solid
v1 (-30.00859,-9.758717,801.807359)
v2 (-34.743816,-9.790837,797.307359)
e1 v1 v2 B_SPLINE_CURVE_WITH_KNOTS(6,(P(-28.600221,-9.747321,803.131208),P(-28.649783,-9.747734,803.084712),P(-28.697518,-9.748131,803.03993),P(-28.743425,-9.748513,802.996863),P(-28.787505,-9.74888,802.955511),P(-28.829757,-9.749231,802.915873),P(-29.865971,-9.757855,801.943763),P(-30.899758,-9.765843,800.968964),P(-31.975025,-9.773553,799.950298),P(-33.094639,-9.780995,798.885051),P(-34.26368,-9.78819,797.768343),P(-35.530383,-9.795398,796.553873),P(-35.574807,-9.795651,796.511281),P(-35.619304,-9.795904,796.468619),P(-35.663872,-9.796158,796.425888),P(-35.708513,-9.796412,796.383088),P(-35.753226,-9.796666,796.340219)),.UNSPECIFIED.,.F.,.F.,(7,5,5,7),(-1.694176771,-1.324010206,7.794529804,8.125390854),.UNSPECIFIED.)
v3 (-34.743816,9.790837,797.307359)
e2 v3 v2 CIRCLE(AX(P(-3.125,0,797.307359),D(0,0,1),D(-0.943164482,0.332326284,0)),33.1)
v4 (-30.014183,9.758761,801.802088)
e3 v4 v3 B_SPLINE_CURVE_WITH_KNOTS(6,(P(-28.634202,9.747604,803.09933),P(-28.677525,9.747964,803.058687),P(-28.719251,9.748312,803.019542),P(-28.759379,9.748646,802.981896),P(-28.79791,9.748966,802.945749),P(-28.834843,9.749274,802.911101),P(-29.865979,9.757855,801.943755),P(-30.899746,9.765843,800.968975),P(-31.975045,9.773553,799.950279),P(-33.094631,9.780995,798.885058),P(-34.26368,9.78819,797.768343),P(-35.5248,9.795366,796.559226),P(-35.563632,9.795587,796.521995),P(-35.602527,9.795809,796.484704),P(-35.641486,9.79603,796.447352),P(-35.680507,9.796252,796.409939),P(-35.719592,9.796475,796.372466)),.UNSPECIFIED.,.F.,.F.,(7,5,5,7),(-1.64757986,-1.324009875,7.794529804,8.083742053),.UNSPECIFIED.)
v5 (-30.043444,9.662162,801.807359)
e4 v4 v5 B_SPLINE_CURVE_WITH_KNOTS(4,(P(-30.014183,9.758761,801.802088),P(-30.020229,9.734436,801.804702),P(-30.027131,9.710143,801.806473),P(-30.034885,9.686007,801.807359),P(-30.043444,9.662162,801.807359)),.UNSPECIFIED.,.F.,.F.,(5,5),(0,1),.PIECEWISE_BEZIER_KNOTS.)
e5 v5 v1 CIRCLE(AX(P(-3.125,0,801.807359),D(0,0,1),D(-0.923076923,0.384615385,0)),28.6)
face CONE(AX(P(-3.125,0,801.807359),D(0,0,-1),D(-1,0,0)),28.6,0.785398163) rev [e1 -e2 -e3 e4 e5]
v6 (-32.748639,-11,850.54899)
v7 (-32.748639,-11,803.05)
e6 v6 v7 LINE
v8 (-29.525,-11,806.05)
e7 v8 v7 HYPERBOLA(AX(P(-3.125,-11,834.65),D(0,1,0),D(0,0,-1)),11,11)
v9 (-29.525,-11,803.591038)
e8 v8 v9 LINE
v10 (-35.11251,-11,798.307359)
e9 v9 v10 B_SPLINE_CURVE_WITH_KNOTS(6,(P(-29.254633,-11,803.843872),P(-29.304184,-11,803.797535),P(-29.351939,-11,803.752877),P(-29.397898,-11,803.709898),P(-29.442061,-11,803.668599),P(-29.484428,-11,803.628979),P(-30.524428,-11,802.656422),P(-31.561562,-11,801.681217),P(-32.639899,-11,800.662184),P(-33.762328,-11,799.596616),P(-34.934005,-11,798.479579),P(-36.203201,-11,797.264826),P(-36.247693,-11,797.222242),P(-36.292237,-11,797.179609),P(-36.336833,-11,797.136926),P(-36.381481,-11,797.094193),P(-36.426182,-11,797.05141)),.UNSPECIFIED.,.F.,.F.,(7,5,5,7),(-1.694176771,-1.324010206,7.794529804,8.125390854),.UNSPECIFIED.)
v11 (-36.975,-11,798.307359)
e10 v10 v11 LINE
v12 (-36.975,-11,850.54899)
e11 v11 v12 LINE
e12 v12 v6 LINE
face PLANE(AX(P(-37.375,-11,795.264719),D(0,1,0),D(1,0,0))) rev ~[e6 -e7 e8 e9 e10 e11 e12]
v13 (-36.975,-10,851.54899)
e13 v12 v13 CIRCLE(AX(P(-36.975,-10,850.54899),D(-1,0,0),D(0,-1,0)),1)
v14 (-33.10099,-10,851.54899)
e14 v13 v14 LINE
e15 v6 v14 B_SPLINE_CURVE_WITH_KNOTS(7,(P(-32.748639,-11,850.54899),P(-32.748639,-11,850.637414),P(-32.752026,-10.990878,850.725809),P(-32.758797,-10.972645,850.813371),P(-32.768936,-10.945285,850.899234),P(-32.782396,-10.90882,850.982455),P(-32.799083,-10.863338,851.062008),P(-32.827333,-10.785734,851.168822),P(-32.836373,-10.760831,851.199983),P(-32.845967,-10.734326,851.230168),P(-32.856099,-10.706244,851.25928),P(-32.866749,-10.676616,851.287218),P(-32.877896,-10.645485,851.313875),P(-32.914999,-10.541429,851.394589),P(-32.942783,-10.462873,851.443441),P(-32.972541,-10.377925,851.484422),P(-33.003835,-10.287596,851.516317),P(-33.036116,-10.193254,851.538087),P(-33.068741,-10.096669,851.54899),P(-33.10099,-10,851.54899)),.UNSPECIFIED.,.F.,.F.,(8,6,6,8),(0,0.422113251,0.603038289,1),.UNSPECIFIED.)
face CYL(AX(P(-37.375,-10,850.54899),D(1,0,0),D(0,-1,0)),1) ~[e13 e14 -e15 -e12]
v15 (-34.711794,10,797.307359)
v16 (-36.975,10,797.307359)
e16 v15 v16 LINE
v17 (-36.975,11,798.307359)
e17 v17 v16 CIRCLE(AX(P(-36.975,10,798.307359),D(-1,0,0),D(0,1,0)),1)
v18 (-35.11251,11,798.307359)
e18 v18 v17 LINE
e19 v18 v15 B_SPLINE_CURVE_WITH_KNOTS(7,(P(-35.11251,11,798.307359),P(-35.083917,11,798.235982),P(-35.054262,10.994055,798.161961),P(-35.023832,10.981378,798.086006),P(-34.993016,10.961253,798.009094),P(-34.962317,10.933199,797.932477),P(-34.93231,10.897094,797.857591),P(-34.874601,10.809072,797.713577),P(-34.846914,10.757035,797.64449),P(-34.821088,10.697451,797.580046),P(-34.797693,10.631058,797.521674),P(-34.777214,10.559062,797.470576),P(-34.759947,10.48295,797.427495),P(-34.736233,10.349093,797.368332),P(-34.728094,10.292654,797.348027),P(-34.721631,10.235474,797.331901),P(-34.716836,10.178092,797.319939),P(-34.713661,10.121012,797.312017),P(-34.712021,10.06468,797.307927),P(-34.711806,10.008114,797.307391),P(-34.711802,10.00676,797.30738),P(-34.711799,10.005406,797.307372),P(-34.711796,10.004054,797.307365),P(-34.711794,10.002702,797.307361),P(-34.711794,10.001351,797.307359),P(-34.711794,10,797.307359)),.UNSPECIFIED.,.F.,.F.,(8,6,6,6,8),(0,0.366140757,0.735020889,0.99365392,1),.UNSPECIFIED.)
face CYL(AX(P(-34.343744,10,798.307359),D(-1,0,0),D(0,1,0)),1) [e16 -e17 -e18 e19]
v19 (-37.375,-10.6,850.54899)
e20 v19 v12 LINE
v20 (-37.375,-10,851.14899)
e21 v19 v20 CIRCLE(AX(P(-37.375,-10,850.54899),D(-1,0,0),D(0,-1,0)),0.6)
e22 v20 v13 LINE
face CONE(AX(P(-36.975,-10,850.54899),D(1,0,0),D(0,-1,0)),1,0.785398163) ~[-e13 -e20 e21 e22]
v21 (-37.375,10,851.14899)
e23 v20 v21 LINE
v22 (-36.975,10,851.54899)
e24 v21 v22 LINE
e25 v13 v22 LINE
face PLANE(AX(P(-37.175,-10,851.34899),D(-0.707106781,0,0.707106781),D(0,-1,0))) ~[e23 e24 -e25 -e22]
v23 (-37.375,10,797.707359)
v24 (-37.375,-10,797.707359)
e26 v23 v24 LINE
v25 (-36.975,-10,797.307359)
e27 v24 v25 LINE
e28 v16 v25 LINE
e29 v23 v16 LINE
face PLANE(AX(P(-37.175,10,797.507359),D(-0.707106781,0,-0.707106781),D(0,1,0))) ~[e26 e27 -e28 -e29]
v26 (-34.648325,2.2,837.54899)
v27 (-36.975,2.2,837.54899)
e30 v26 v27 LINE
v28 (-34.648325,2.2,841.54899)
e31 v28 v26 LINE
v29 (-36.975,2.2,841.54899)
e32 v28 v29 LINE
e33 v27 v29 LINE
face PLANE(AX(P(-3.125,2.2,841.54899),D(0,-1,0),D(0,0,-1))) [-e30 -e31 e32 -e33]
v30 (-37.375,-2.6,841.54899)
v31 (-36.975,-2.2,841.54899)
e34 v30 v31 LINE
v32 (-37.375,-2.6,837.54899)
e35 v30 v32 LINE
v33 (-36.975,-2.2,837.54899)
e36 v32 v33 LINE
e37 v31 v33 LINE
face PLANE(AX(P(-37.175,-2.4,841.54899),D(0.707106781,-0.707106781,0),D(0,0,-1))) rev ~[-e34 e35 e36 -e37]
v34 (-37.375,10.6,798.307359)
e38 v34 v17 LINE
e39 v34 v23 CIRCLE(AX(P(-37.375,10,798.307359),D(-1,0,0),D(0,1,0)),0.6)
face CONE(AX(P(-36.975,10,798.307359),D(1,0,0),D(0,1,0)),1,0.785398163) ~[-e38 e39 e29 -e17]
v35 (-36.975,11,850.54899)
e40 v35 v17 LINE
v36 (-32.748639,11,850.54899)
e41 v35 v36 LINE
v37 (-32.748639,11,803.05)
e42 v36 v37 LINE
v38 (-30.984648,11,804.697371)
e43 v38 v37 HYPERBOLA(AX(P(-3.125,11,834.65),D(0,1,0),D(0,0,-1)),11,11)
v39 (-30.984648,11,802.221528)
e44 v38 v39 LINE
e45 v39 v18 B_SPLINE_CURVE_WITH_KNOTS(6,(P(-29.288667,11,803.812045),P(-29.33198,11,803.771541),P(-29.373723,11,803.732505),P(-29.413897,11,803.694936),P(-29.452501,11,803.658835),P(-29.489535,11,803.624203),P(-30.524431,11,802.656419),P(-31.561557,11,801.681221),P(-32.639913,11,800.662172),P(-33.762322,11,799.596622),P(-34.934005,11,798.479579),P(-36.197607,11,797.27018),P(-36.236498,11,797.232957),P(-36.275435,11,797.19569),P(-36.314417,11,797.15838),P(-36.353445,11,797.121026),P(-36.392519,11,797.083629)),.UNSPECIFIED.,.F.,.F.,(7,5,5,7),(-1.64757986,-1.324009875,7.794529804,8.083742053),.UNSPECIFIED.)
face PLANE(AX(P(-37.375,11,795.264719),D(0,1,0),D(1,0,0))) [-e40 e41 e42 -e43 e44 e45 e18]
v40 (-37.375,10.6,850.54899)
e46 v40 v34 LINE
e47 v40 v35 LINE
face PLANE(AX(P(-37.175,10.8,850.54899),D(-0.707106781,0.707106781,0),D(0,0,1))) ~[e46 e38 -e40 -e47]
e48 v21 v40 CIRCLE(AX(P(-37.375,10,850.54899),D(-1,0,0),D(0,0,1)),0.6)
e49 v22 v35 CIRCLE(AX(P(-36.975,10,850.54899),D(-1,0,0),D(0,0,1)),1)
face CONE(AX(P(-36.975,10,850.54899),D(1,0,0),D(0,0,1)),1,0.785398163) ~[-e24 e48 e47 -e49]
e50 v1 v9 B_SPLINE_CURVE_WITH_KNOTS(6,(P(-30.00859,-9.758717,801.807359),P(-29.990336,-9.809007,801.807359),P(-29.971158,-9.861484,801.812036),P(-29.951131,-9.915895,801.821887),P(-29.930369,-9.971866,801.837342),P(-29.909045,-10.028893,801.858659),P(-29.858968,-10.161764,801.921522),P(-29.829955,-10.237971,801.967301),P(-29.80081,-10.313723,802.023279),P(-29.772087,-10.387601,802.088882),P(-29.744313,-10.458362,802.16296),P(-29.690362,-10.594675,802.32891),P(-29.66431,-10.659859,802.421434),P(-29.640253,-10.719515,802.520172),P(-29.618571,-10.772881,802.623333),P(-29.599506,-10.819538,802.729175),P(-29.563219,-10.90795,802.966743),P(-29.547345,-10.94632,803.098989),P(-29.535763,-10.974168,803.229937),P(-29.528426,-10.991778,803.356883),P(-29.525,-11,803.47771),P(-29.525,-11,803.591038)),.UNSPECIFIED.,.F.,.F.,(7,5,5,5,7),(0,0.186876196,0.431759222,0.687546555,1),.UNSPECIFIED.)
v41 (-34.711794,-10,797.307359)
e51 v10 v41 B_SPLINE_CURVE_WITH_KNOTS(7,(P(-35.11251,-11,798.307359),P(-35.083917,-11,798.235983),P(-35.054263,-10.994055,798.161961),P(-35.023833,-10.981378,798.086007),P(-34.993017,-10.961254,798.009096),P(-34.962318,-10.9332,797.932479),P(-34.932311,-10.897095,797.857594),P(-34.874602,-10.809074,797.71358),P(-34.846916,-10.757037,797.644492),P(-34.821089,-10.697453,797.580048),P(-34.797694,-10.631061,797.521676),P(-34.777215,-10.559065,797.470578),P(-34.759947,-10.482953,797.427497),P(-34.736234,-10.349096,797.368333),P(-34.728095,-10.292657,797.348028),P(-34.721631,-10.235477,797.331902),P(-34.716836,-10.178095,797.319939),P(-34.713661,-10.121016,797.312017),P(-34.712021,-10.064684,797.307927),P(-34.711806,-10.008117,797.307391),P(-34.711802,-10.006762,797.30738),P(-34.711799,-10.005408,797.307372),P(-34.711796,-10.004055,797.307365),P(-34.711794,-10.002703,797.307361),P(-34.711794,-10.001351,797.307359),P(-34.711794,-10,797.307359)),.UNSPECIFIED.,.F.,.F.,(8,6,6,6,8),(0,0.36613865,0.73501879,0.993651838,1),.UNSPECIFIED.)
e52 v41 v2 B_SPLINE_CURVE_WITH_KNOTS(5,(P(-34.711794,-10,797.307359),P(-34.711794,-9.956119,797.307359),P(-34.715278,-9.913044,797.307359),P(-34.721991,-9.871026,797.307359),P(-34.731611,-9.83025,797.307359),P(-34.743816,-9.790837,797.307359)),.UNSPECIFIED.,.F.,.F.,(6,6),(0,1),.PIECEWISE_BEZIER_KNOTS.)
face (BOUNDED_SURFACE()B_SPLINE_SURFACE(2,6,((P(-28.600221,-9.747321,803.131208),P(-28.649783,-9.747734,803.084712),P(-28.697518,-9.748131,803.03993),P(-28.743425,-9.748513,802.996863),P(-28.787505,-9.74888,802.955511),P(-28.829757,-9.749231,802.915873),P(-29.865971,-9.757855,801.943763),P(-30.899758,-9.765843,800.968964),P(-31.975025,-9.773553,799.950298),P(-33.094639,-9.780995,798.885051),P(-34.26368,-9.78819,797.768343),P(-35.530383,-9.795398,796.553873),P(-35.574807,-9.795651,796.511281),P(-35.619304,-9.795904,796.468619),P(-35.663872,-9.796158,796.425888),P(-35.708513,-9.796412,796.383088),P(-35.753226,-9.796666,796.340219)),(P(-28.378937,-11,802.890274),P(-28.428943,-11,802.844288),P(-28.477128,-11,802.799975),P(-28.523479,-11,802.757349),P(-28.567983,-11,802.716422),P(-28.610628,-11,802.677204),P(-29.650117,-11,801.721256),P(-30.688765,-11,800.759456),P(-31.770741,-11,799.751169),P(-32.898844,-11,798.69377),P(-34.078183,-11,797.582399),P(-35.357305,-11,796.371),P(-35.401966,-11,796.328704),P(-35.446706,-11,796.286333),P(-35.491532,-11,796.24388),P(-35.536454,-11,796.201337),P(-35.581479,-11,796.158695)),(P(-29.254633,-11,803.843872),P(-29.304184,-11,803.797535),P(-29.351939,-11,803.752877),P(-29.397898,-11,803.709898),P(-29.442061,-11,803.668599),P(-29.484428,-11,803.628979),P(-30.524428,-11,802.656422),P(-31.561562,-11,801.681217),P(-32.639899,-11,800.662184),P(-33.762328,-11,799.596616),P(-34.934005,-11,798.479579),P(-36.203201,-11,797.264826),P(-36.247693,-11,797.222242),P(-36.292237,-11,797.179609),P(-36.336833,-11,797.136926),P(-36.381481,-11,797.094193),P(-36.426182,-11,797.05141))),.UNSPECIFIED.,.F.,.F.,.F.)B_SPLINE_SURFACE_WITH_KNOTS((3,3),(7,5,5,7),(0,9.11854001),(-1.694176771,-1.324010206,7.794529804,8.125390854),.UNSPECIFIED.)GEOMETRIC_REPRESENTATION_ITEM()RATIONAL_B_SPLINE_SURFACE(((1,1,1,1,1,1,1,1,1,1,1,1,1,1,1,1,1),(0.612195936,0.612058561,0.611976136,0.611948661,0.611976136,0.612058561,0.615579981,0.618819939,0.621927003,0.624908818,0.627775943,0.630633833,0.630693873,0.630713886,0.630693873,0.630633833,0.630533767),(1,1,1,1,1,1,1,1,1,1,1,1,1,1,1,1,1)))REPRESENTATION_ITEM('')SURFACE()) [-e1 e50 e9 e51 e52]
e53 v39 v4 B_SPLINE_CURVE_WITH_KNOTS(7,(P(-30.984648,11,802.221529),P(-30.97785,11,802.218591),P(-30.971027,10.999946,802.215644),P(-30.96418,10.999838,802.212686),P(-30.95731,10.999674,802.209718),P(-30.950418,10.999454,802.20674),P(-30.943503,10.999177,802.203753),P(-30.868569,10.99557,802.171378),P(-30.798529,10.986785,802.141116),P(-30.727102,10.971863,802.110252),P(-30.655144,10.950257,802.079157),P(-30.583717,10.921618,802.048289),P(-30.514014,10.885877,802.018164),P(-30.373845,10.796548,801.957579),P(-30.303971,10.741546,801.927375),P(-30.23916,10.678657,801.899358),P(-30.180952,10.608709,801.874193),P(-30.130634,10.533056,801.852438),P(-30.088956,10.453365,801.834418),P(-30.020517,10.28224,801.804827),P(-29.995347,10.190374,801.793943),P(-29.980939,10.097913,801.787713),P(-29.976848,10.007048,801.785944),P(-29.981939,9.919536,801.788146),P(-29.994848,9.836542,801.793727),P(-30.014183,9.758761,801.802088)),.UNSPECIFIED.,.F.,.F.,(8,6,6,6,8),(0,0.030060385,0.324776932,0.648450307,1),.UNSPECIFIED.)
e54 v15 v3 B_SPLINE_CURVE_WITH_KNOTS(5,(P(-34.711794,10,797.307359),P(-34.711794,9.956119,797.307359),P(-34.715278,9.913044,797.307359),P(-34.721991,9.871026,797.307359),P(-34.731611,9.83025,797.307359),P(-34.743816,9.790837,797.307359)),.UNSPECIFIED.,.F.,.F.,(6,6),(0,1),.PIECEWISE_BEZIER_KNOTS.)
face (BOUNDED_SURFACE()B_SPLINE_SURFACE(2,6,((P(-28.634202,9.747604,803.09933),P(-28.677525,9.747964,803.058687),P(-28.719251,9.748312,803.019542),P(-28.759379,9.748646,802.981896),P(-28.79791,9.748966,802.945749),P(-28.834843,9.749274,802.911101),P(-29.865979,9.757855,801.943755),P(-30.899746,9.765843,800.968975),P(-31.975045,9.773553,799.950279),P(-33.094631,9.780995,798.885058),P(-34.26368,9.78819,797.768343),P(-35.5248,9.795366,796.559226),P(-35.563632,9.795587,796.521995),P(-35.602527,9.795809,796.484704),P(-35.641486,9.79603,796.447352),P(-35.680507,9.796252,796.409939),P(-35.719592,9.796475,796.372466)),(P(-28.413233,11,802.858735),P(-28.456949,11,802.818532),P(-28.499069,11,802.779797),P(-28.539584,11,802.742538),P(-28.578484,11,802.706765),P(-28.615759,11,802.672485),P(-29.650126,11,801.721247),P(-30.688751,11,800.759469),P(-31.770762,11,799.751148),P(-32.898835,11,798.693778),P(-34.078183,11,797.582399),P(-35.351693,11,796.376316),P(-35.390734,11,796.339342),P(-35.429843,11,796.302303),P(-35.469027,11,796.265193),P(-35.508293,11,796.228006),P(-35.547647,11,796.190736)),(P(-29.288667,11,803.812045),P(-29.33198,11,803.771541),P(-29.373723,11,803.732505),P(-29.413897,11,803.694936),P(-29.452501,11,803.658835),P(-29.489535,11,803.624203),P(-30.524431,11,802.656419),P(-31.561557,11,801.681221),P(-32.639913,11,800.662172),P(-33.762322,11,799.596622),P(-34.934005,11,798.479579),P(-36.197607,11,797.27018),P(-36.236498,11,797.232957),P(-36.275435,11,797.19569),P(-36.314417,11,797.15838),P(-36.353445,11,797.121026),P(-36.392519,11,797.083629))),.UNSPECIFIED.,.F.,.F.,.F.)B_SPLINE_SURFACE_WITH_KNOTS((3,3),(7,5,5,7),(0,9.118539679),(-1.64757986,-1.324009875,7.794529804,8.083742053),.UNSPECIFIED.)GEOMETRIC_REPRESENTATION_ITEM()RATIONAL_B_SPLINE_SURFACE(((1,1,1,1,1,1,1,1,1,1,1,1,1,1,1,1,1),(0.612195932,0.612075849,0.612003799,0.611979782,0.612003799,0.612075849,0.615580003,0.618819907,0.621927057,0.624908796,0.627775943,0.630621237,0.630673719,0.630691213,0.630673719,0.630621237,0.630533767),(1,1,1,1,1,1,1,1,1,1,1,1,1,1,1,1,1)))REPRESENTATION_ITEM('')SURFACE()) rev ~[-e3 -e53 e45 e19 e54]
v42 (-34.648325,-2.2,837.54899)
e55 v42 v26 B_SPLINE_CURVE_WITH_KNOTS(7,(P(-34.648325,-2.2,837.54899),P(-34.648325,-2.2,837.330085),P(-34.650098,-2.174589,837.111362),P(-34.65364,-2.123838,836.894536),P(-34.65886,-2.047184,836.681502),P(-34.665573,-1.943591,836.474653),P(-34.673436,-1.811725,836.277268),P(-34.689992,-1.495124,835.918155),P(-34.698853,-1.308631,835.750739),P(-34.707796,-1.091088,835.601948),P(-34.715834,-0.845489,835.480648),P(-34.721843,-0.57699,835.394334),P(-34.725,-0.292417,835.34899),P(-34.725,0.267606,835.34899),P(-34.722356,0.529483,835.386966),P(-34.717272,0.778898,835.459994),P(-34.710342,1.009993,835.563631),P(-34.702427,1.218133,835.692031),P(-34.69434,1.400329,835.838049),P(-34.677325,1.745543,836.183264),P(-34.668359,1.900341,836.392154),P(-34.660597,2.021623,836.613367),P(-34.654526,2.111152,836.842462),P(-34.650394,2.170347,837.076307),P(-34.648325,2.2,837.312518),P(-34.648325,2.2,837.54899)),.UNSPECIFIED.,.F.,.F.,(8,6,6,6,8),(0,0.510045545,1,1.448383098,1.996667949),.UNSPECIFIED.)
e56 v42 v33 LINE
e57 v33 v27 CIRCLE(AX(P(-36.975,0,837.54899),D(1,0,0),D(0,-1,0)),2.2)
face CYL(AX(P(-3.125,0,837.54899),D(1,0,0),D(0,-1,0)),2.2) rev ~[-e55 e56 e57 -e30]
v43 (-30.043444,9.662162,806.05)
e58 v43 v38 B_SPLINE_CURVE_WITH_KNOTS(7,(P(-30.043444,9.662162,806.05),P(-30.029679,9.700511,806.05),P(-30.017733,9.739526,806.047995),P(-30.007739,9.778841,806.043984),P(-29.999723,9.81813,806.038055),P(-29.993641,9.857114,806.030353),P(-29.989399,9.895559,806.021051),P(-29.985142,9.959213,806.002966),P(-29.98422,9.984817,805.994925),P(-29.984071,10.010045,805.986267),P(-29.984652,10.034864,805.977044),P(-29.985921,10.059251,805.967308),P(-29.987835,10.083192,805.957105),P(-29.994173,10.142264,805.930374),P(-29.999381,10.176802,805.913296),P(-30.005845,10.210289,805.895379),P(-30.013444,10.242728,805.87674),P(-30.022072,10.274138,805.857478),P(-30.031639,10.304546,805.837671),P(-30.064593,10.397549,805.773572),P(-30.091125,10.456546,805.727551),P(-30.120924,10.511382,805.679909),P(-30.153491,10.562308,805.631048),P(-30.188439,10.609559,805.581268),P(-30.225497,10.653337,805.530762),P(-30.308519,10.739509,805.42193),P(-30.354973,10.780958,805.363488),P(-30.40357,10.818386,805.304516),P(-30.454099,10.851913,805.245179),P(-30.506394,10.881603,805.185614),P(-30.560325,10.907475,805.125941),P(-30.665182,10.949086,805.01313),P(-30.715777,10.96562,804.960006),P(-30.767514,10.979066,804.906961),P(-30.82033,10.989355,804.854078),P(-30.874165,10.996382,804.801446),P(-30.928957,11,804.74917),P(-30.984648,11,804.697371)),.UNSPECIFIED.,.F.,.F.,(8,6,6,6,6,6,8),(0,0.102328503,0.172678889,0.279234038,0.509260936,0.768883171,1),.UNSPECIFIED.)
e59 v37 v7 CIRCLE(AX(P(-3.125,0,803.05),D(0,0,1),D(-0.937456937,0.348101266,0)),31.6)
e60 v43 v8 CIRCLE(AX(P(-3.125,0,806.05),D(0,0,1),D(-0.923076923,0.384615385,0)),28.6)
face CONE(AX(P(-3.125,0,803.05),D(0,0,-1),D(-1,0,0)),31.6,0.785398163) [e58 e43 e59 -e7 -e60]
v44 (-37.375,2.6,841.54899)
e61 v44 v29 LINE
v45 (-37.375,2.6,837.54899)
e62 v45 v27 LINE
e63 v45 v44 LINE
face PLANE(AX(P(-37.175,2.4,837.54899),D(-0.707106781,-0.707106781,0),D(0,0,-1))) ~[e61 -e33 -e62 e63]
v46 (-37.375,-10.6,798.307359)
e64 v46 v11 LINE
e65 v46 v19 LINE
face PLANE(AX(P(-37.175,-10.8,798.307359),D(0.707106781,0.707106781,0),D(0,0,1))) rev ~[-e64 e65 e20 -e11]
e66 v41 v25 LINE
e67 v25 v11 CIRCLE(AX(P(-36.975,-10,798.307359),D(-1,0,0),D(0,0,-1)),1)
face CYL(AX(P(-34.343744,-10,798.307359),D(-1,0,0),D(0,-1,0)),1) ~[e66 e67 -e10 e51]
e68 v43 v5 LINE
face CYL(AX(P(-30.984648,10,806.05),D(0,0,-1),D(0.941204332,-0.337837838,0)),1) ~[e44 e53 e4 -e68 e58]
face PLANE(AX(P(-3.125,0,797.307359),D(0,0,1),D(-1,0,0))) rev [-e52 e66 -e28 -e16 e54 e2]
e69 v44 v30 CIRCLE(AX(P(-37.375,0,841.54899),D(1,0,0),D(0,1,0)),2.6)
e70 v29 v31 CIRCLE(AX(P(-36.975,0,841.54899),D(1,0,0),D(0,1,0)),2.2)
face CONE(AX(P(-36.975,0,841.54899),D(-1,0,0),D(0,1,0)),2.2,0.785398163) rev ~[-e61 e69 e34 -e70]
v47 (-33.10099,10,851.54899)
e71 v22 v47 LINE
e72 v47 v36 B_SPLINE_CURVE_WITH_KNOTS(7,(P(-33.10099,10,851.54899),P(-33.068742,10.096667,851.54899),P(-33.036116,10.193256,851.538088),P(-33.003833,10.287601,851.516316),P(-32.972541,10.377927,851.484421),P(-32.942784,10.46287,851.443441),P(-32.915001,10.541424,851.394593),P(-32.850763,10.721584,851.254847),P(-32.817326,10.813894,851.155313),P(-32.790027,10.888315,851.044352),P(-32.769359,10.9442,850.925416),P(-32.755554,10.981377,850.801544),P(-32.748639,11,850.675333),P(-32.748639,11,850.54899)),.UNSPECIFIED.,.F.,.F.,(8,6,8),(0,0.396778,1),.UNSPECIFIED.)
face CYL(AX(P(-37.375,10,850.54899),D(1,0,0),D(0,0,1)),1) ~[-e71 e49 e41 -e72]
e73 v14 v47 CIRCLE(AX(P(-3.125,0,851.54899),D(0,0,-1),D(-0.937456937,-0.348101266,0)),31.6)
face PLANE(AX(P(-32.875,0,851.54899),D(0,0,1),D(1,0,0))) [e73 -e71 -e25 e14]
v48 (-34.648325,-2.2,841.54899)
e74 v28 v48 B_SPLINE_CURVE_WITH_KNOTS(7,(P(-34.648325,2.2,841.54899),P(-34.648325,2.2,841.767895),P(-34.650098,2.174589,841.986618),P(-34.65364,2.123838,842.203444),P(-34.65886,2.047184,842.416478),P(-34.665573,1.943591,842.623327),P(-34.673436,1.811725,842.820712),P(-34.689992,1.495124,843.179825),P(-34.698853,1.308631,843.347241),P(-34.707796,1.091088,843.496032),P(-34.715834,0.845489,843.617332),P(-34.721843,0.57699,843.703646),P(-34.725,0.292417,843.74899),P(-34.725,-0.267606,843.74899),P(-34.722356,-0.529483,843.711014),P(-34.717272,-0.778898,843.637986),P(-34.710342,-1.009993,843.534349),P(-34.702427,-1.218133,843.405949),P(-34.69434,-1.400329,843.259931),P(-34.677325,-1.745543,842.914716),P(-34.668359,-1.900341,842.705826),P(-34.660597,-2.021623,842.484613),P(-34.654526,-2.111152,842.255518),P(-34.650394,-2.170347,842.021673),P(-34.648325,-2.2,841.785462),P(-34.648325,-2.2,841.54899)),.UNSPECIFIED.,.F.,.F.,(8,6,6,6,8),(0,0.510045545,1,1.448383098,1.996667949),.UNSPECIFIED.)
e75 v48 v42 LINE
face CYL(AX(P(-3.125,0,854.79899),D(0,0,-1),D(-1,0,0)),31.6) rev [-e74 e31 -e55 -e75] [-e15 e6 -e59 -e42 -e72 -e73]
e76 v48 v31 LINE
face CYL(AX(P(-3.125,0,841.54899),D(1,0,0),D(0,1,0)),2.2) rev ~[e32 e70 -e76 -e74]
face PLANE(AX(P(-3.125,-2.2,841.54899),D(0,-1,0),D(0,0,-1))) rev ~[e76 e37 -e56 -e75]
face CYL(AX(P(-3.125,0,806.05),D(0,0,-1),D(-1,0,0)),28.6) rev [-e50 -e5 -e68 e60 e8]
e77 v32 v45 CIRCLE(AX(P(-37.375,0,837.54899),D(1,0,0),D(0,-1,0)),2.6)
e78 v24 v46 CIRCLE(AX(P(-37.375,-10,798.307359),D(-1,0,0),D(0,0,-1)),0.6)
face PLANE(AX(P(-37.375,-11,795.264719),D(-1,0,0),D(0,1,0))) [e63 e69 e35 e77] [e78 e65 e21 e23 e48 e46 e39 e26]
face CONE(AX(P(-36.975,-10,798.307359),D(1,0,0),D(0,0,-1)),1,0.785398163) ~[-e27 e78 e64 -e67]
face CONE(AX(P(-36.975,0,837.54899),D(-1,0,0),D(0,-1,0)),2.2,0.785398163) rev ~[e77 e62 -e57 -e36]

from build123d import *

# Parameters (mm, degrees)
BOX_W           = 9
BOX_H           = 22
BOX_DEPTH       = 56.284271
POCKET077_DEPTH = 34.251
FILLET010_R     = 1
CHAMFER001_SIZE = 0.4


with BuildPart() as part:
    # Box → Box (join)
    with BuildSketch(Plane(origin=(-34.25, -11, -59.534271), x_dir=(1, 0, 0), z_dir=(0, 0, 1))):
        with Locations((4.5, 11)):
            Rectangle(BOX_W, BOX_H)
    extrude(amount=BOX_DEPTH)

    # Sketch136 → Pocket077 (cut, through all)
    with BuildSketch(Plane.YZ):
        with BuildLine():
            ThreePointArc((2.2, -13.25), (0, -11.05), (-2.2, -13.25))
            Line((-2.2, -13.25), (-2.2, -17.25))
            ThreePointArc((-2.2, -17.25), (0, -19.45), (2.2, -17.25))
            Line((2.2, -13.25), (2.2, -17.25))
        make_face()
    extrude(amount=-POCKET077_DEPTH, mode=Mode.SUBTRACT)

    # Sketch228 → Groove003 (revolve, cut)
    with BuildSketch(Plane.XZ):
        Polygon((-31.6, 0), (-31.6, -51.74899), (-28.6, -48.74899), (-28.6, -52.991631), (-33.1, -57.491631), (-36.1, -57.491631), (-36.1, -60.74899), (-19.6, -60.74899), (-19.6, 0), align=None)
    revolve(axis=Axis((0, 0, 0), (0, 0, 1)), mode=Mode.SUBTRACT)

    # Fillet010
    fillet010_edges = [part.edges().sort_by_distance(p)[0] for p in [
        (-32.734372, -11, -57.491631),
        (-28.815375, -11, -55.235201),
        (-32.734372, 11, -57.491631),
        (-28.815375, 11, -55.235201),
        (-26.4, 11, -50.87031),
        (-31.93682, 11, -3.25),
        (-31.93682, -11, -3.25),
    ]]
    fillet(fillet010_edges, radius=FILLET010_R)

    # Chamfer001
    chamfer001_edges = [part.edges().sort_by_distance(p)[0] for p in [
        (-34.25, 0, -57.491631),
        (-34.25, 10.707107, -57.198737),
        (-34.25, 11, -30.370815),
        (-34.25, 10.707107, -3.542893),
        (-34.25, 0, -3.25),
        (-34.25, -10.707107, -3.542893),
        (-34.25, -11, -30.370815),
        (-34.25, -10.707107, -57.198737),
        (-34.25, 0, -19.45),
        (-34.25, 2.2, -15.25),
        (-34.25, 0, -11.05),
        (-34.25, -2.2, -15.25),
    ]]
    chamfer(chamfer001_edges, length=CHAMFER001_SIZE)


with BuildPart() as part_1:
    # Body022028 placement: moved
    add(part.part.moved(Location((-3.125, 0, 854.79899))))


solid = part_1.part
